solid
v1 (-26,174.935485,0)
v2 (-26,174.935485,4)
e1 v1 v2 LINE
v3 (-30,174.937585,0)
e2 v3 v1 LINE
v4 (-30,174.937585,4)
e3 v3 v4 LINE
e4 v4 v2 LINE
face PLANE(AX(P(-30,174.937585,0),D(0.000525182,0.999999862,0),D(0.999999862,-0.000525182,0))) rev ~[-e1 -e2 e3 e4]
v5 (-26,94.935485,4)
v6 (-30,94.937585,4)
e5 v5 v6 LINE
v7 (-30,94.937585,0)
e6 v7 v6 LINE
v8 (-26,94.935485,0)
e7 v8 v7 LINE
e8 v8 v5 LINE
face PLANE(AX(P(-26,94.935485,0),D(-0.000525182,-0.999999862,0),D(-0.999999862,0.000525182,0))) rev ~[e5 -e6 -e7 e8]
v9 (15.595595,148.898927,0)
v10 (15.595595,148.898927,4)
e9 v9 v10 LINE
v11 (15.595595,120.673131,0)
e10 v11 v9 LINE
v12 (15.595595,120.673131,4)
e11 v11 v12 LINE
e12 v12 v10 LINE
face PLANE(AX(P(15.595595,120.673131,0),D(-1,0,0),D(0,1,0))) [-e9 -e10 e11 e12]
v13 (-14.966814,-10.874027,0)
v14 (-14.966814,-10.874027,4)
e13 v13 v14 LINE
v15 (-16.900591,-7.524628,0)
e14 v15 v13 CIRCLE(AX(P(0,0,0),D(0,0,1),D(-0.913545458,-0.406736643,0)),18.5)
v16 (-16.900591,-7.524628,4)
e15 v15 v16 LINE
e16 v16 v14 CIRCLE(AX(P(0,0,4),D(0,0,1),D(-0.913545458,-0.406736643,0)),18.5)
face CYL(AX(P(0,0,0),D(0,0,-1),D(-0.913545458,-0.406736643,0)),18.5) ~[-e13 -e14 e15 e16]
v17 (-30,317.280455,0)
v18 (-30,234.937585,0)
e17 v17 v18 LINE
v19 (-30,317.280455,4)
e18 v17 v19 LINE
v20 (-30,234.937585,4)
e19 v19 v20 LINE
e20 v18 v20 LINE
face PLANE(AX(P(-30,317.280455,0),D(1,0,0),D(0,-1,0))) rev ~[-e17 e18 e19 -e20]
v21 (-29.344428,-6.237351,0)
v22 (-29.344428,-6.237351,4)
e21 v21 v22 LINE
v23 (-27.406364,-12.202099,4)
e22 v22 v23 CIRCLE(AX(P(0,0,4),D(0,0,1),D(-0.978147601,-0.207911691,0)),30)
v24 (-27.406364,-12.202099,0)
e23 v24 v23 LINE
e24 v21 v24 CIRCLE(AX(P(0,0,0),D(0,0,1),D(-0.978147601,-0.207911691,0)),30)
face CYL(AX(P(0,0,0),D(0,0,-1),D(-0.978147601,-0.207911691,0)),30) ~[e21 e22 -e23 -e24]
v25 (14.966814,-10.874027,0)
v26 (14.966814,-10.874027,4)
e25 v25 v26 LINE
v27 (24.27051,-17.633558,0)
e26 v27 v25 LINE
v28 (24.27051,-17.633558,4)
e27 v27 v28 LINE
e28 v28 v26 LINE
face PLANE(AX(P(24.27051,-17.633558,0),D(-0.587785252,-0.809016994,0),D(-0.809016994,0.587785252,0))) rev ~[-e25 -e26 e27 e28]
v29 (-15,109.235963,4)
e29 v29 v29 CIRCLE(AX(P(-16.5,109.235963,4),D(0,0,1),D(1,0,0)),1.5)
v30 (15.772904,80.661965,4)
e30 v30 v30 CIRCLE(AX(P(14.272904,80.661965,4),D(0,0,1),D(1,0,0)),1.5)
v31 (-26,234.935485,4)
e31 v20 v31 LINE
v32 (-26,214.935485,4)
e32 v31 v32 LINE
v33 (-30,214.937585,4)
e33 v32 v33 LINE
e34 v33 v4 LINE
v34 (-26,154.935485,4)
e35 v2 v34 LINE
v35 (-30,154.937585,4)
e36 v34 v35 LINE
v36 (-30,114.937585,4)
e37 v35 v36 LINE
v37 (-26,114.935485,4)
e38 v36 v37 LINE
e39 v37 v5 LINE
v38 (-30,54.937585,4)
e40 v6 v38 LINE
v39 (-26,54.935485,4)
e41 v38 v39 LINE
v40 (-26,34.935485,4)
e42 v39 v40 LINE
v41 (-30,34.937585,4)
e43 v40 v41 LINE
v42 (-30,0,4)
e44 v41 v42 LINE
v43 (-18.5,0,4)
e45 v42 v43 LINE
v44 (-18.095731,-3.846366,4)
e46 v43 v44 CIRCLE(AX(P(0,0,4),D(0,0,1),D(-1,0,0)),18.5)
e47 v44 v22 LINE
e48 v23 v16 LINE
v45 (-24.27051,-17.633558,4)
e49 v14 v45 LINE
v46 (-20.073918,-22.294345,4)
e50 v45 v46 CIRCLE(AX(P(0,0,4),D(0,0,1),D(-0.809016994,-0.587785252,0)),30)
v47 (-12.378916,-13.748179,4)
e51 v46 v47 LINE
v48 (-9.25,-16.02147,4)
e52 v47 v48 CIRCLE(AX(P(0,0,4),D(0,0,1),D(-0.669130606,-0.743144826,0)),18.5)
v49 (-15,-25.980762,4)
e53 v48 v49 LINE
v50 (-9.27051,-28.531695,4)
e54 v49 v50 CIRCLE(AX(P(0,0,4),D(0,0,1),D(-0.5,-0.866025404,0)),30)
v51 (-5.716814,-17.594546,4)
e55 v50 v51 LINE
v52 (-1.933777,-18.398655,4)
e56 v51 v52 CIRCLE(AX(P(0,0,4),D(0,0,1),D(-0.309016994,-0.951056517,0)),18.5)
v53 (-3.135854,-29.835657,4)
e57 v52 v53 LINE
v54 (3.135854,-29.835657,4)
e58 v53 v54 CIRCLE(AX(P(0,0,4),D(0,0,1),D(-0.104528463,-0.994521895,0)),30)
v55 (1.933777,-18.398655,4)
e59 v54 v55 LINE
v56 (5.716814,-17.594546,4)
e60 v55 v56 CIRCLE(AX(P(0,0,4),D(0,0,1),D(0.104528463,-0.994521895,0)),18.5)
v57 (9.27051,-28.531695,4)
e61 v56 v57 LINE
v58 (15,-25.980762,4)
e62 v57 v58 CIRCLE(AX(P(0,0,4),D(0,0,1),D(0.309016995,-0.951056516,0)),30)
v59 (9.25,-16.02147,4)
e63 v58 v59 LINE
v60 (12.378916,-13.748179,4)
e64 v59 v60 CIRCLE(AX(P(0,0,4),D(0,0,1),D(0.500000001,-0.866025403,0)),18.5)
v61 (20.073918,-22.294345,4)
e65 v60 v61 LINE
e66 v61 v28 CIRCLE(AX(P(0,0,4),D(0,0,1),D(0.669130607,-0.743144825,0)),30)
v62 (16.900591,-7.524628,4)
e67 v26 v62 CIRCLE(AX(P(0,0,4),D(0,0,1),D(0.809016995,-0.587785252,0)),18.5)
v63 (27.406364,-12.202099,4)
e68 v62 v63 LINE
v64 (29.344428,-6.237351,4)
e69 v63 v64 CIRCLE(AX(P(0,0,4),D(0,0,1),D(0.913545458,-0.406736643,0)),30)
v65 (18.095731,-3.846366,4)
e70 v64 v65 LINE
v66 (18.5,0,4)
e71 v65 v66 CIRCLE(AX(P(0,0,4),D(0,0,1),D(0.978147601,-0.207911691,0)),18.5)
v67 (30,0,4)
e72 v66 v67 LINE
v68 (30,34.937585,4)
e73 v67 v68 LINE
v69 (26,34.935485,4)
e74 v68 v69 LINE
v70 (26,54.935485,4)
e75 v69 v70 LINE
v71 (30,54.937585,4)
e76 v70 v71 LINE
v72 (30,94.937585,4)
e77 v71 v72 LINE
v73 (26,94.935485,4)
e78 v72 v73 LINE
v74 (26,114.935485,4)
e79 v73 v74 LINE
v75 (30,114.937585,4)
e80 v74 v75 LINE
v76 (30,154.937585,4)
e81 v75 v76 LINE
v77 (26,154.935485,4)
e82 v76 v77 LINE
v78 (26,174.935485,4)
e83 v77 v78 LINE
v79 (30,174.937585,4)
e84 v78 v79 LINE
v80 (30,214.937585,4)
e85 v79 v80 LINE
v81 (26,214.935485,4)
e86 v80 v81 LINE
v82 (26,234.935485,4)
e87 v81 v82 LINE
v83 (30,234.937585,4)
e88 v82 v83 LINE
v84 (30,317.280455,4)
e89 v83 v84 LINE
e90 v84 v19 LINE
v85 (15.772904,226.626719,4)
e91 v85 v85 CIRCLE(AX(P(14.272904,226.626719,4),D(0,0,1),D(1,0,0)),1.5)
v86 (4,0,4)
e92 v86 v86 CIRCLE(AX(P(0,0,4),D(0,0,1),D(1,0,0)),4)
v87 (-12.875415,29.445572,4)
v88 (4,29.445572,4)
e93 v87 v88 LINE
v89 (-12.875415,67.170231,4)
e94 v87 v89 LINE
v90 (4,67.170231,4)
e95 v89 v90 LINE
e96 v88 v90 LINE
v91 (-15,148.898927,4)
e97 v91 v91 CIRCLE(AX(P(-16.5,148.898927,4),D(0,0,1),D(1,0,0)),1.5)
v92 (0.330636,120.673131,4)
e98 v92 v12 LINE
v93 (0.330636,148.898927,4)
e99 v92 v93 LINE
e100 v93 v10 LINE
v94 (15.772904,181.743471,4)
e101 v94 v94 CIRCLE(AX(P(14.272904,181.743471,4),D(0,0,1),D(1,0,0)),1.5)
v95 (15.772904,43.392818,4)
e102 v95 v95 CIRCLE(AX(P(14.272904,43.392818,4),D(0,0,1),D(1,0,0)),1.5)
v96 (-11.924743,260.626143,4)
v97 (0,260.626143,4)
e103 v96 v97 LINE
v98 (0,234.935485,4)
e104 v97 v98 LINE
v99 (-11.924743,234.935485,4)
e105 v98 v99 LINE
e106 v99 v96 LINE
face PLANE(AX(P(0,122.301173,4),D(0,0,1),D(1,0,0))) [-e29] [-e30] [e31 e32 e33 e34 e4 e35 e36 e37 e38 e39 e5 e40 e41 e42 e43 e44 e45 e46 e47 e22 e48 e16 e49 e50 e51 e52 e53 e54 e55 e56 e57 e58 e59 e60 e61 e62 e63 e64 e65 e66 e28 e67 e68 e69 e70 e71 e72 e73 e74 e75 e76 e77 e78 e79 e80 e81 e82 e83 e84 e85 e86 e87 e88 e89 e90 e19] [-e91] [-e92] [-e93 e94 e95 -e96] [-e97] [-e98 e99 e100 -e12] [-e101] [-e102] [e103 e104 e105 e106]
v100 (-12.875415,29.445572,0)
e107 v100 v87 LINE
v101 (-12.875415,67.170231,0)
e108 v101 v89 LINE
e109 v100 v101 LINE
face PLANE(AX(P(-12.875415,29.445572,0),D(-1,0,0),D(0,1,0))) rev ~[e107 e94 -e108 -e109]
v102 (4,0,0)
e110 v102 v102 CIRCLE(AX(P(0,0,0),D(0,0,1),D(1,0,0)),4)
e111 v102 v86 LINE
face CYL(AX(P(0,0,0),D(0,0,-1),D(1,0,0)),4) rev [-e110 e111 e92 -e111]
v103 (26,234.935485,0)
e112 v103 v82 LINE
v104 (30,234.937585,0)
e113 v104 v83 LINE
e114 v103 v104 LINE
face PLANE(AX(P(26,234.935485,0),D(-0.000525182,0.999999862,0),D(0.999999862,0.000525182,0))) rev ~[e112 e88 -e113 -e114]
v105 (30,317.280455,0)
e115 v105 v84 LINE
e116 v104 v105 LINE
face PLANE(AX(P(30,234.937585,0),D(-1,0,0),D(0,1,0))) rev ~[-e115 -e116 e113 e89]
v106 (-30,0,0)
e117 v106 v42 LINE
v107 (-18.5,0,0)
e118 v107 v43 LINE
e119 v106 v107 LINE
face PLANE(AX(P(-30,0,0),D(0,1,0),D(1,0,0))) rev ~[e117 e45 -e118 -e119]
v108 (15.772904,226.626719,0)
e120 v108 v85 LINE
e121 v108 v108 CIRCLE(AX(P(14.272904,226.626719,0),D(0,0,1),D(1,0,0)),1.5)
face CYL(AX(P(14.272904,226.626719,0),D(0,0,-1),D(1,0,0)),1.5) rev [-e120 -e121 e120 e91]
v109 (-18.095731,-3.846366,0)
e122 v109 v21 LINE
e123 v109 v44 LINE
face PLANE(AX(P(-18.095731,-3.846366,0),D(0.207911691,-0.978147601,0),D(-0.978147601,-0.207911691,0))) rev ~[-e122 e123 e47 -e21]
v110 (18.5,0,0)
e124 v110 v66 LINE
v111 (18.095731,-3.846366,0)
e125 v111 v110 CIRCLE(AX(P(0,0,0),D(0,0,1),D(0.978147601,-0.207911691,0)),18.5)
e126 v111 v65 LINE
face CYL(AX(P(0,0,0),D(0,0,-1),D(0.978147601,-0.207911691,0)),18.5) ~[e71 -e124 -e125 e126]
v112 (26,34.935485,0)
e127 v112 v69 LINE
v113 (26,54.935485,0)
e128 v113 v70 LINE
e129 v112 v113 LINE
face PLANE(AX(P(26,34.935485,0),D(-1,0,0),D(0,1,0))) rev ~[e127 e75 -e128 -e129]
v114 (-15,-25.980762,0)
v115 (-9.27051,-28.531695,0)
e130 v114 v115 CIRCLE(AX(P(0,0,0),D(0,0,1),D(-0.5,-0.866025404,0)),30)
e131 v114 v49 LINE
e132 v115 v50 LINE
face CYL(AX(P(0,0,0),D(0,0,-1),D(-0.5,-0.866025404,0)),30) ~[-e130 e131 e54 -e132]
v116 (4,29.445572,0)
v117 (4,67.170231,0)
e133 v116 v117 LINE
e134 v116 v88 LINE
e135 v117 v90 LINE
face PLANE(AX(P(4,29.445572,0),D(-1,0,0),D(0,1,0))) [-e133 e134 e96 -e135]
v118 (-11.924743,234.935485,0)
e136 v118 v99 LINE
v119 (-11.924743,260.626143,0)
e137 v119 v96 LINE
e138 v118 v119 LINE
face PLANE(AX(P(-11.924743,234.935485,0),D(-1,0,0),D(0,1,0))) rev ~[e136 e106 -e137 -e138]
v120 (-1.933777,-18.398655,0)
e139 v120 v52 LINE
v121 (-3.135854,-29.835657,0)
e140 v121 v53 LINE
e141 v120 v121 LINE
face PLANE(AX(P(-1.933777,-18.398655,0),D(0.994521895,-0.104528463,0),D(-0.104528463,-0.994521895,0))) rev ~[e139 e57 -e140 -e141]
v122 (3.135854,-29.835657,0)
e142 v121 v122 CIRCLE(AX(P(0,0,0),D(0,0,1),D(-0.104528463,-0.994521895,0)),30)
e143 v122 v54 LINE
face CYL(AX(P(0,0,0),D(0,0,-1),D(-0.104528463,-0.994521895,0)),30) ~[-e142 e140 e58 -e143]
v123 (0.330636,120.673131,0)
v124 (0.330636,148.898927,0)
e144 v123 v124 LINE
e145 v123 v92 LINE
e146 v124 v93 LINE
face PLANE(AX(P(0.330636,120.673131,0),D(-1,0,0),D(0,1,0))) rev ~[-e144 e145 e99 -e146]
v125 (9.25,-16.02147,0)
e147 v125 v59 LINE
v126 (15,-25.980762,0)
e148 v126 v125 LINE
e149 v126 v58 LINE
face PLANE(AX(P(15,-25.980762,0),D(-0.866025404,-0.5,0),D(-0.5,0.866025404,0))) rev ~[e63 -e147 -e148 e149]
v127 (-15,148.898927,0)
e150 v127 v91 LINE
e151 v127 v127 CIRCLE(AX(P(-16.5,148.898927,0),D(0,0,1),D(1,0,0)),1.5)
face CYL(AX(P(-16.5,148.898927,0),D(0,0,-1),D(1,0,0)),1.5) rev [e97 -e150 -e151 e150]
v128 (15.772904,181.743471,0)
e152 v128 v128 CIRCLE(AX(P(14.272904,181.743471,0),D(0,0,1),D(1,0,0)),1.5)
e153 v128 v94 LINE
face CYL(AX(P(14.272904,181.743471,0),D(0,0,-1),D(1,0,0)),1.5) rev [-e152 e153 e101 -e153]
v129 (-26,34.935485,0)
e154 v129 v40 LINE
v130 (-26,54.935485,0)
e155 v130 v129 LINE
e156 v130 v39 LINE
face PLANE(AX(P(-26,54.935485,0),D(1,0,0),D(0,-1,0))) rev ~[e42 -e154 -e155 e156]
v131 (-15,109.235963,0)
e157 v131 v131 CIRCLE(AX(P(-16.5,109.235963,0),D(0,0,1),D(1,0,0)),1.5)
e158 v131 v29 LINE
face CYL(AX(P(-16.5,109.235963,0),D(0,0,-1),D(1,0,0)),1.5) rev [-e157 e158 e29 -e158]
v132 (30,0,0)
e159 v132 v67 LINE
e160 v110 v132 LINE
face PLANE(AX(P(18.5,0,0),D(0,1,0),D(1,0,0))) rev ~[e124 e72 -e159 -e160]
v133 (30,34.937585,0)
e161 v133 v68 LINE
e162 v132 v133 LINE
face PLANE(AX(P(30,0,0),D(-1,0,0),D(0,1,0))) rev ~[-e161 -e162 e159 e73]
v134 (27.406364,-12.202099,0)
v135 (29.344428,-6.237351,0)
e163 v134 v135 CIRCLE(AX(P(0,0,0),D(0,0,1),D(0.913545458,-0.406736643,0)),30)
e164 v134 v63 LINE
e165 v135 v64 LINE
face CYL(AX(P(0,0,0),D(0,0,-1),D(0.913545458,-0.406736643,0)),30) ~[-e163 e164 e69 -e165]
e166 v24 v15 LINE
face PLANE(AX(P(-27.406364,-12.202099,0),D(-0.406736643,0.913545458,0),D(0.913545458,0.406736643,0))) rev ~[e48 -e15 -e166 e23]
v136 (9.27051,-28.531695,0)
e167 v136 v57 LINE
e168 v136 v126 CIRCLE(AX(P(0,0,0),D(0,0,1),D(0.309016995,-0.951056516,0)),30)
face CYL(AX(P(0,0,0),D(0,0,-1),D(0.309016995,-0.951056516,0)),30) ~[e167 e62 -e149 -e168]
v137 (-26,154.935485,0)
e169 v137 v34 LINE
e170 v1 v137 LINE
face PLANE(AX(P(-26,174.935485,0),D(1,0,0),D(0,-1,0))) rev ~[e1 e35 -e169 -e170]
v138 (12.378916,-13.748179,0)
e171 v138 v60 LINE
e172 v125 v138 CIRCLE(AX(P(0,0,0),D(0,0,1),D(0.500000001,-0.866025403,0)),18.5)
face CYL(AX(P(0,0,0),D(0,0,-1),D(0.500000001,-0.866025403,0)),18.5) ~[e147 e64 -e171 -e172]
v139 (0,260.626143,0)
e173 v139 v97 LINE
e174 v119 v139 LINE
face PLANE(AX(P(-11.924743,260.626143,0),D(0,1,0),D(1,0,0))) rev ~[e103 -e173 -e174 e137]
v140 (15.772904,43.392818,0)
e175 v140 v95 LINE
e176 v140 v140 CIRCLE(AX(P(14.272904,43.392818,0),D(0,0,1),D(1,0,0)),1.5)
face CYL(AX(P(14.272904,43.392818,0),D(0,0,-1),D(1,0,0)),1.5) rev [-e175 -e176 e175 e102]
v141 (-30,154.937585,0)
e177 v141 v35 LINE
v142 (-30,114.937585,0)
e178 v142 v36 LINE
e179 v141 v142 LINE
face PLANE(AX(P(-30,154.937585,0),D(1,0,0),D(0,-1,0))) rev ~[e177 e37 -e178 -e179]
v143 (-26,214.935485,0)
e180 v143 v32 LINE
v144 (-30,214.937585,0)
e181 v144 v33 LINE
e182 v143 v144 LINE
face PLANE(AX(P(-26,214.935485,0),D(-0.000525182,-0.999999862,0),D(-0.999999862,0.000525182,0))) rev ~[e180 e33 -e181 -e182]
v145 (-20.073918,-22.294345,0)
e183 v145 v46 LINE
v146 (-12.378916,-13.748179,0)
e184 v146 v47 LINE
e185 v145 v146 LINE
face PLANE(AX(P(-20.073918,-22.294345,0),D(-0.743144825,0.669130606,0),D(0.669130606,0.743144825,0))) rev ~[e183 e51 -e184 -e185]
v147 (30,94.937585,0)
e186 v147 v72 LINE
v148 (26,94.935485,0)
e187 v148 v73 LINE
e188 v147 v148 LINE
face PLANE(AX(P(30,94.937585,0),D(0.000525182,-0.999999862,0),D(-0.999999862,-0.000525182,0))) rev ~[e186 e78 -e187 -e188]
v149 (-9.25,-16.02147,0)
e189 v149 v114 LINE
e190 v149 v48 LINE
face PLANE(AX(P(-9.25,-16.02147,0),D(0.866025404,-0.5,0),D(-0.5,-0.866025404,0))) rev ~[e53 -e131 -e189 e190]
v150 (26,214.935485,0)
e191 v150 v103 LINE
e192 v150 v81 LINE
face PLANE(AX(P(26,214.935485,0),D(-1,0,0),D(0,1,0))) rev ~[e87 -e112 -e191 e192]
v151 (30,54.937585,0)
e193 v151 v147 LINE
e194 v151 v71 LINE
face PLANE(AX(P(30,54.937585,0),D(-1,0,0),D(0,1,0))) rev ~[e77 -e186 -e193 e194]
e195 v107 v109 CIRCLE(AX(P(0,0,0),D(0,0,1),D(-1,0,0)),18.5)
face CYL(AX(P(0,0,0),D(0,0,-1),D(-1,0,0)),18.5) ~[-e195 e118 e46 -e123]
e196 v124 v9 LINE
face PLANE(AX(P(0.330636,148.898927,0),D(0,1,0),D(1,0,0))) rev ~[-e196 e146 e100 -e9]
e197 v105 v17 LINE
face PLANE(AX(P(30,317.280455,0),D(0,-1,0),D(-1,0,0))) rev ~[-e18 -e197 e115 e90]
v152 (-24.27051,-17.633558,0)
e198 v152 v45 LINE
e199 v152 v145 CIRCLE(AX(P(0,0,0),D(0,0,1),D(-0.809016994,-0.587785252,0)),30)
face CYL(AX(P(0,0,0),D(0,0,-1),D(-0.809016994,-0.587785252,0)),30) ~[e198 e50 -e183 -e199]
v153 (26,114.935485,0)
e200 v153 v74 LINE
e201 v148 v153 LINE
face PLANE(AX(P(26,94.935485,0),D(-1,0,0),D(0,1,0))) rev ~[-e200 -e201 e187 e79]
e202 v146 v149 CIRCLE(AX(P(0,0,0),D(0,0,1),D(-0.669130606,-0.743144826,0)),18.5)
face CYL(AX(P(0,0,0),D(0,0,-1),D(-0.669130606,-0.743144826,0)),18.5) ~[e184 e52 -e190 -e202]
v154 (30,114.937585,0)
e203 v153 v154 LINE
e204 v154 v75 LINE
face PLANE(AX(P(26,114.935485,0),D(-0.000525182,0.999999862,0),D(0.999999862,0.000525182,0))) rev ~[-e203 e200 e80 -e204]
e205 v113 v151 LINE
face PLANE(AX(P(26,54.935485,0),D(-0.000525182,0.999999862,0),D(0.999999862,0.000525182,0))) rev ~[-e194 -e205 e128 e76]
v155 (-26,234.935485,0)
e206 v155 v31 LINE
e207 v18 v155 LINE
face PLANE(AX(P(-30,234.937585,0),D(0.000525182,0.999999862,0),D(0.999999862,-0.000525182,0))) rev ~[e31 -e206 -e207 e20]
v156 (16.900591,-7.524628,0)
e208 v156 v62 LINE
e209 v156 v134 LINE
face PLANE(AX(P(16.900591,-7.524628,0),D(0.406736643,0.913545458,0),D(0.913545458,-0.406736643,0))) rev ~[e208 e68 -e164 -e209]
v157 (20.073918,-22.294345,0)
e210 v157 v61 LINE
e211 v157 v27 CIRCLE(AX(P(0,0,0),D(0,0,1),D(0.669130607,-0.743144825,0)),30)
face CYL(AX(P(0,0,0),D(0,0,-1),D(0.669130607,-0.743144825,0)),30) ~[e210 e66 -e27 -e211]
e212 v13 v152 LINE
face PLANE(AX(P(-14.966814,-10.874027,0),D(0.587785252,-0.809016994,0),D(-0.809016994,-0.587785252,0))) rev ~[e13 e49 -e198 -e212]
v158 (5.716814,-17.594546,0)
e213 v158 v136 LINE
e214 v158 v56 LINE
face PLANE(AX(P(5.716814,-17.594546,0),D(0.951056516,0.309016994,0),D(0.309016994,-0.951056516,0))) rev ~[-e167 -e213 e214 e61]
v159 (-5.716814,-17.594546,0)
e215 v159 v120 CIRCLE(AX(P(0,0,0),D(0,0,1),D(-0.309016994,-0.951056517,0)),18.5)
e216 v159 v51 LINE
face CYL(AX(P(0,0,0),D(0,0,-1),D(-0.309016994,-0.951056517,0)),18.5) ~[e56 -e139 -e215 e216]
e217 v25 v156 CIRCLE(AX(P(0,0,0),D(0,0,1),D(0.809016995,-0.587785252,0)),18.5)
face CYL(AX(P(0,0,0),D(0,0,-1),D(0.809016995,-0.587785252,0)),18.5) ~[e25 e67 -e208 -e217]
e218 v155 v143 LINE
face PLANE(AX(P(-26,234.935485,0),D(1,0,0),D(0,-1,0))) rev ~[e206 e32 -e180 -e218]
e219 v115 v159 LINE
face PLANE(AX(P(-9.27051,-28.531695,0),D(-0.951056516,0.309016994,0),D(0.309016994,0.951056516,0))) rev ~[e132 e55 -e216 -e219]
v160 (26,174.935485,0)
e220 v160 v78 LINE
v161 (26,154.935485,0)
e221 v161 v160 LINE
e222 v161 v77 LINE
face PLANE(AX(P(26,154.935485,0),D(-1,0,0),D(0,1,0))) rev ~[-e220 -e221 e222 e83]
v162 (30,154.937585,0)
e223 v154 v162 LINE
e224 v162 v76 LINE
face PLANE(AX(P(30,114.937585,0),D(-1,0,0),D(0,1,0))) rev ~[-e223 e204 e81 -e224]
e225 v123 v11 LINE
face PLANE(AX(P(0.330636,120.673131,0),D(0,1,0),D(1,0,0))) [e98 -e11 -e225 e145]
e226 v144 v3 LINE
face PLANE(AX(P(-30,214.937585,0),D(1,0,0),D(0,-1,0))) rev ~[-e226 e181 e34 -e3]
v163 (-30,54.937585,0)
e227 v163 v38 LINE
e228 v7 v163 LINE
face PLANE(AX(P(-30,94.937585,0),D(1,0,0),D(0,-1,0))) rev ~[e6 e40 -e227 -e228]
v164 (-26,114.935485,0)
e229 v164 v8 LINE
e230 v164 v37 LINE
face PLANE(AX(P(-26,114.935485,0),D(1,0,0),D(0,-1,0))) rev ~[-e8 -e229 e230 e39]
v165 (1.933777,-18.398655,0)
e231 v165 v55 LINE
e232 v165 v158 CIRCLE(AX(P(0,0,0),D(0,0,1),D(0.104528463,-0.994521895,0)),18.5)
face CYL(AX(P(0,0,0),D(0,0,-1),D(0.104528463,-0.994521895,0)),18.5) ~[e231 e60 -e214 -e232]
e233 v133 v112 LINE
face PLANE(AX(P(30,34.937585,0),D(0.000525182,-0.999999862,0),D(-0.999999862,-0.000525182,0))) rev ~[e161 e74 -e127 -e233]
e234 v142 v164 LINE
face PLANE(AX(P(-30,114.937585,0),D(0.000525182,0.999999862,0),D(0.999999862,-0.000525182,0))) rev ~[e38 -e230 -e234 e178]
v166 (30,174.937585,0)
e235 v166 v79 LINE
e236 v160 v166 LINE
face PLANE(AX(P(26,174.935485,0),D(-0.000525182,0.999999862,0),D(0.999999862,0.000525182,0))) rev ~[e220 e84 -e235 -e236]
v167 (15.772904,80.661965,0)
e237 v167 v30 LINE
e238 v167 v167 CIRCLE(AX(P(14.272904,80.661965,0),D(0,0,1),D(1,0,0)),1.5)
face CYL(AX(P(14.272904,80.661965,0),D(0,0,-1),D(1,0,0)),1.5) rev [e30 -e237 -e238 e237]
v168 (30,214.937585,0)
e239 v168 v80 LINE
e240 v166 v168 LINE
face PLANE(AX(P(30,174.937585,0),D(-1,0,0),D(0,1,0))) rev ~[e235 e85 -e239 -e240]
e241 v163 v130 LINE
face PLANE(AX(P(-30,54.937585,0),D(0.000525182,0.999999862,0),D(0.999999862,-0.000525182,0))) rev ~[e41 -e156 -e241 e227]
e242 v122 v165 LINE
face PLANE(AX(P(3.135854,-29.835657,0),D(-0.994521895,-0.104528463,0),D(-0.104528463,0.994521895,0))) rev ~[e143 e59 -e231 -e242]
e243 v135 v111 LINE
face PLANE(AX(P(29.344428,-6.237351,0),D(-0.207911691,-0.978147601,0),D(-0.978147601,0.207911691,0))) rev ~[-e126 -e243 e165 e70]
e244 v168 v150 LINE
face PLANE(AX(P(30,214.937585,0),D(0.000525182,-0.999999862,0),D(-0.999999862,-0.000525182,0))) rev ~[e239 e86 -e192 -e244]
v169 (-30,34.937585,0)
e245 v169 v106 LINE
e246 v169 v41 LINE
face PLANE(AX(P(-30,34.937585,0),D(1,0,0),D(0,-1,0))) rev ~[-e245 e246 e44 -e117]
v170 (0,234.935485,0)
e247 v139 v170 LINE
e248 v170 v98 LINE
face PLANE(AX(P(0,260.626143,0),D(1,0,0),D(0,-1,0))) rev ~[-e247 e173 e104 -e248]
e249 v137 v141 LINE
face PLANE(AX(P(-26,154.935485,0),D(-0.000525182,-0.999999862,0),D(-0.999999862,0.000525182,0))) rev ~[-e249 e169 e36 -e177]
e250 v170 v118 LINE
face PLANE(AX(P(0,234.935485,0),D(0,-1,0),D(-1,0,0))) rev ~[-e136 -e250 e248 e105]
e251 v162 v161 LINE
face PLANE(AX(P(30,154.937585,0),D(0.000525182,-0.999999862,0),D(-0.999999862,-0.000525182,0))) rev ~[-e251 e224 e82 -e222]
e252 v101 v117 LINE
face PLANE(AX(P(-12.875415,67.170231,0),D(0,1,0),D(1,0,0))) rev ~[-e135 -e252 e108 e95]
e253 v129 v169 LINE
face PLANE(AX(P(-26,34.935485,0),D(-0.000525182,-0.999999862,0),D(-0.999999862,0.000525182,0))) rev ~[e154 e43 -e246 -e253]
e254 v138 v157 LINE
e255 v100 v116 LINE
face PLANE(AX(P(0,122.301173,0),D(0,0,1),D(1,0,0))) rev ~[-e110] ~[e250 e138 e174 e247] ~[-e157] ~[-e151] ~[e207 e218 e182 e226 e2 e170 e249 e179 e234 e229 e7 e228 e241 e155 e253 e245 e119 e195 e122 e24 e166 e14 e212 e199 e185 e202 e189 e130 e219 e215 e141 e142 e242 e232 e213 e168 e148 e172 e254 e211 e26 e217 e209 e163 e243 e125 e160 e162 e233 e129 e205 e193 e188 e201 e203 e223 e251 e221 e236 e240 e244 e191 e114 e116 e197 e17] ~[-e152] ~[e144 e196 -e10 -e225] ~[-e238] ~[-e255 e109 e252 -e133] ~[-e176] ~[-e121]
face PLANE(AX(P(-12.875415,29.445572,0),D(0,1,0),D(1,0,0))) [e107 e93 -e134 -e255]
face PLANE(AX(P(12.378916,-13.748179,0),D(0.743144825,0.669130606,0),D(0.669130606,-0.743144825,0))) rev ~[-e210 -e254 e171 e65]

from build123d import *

# Parameters (mm, degrees)
SKETCH1_R           = 1.5
SKETCH1_R_2         = 4.000000004
SKETCH1_W           = 15.264959334
SKETCH1_H           = 28.225795916
SKETCH1_W_2         = 16.875415015
SKETCH1_H_2         = 37.724658957
BOSS_EXTRUDE1_DEPTH = 4


with BuildPart() as part:
    # Sketch1 → Boss-Extrude1 (new body)
    with BuildSketch(Plane.XY):
        with BuildLine():
            Line((-30.000000002, 34.937585276), (-30.000000002, -5e-09))
            Line((-30.000000002, -5e-09), (-18.500000007, -5e-09))
            ThreePointArc((-18.500000007, -5e-09), (-18.398655071, -1.933776576), (-18.09573062, -3.846366286))
            Line((-18.09573062, -3.846366286), (-29.344428024, -6.23735073))
            ThreePointArc((-29.344428024, -6.23735073), (-28.53169549, -9.270509837), (-27.406363731, -12.202099298))
            Line((-27.406363731, -12.202099298), (-16.900590972, -7.524627904))
            ThreePointArc((-16.900590972, -7.524627904), (-16.021469975, -9.250000008), (-14.966814401, -10.874027176))
            Line((-14.966814401, -10.874027176), (-24.270509832, -17.633557574))
            ThreePointArc((-24.270509832, -17.633557574), (-22.294344765, -20.073918196), (-20.073918191, -22.294344769))
            Line((-20.073918191, -22.294344769), (-12.378916221, -13.74817928))
            ThreePointArc((-12.378916221, -13.74817928), (-10.87402717, -14.966814404), (-9.250000002, -16.021469978))
            Line((-9.250000002, -16.021469978), (-14.999999999, -25.980762117))
            ThreePointArc((-14.999999999, -25.980762117), (-12.202099292, -27.406363733), (-9.27050983, -28.531695491))
            Line((-9.27050983, -28.531695491), (-5.716814397, -17.594545559))
            ThreePointArc((-5.716814397, -17.594545559), (-3.846366281, -18.09573062), (-1.933776571, -18.39865507))
            Line((-1.933776571, -18.39865507), (-3.135853898, -29.835656862))
            ThreePointArc((-3.135853898, -29.835656862), (0, -30.000000001), (3.135853897, -29.835656861))
            Line((3.135853897, -29.835656861), (1.93377657, -18.398655069))
            ThreePointArc((1.93377657, -18.398655069), (3.84636628, -18.095730618), (5.716814395, -17.594545555))
            Line((5.716814395, -17.594545555), (9.270509829, -28.531695488))
            ThreePointArc((9.270509829, -28.531695488), (12.202099289, -27.406363728), (14.999999996, -25.980762112))
            Line((14.999999996, -25.980762112), (9.249999999, -16.021469973))
            ThreePointArc((9.249999999, -16.021469973), (10.874027165, -14.966814398), (12.378916215, -13.748179274))
            Line((12.378916215, -13.748179274), (20.073918185, -22.294344763))
            ThreePointArc((20.073918185, -22.294344763), (22.294344757, -20.07391819), (24.270509823, -17.633557568))
            Line((24.270509823, -17.633557568), (14.966814392, -10.87402717))
            ThreePointArc((14.966814392, -10.87402717), (16.021469966, -9.250000002), (16.900590962, -7.5246279))
            Line((16.900590962, -7.5246279), (27.40636372, -12.202099293))
            ThreePointArc((27.40636372, -12.202099293), (28.531695479, -9.270509833), (29.344428012, -6.237350727))
            Line((29.344428012, -6.237350727), (18.095730608, -3.846366284))
            ThreePointArc((18.095730608, -3.846366284), (18.398655059, -1.933776575), (18.499999994, -5e-09))
            Line((18.499999994, -5e-09), (29.999999989, -5e-09))
            Line((29.999999989, -5e-09), (29.999999989, 34.937585276))
            Line((29.999999989, 34.937585276), (25.999999989, 34.935484549))
            Line((25.999999989, 34.935484549), (25.999999989, 54.935484549))
            Line((25.999999989, 54.935484549), (29.999999989, 54.937585276))
            Line((29.999999989, 54.937585276), (29.999999989, 94.937585276))
            Line((29.999999989, 94.937585276), (25.999999989, 94.935484549))
            Line((25.999999989, 94.935484549), (25.999999989, 114.935484549))
            Line((25.999999989, 114.935484549), (29.999999989, 114.937585276))
            Line((29.999999989, 114.937585276), (29.999999989, 154.937585276))
            Line((29.999999989, 154.937585276), (25.999999989, 154.935484549))
            Line((25.999999989, 154.935484549), (25.999999989, 174.935484549))
            Line((25.999999989, 174.935484549), (29.999999989, 174.937585276))
            Line((29.999999989, 174.937585276), (29.999999989, 214.937585276))
            Line((29.999999989, 214.937585276), (25.999999989, 214.935484549))
            Line((25.999999989, 214.935484549), (25.999999989, 234.935484549))
            Line((25.999999989, 234.935484549), (29.999999989, 234.937585276))
            Line((29.999999989, 234.937585276), (29.999999989, 317.280454814))
            Line((29.999999989, 317.280454814), (-30.000000002, 317.280454814))
            Line((-30.000000002, 317.280454814), (-30.000000002, 234.937585276))
            Line((-30.000000002, 234.937585276), (-26.000000002, 234.935484549))
            Line((-26.000000002, 234.935484549), (-26.000000002, 214.935484549))
            Line((-26.000000002, 214.935484549), (-30.000000002, 214.937585276))
            Line((-30.000000002, 214.937585276), (-30.000000002, 174.937585276))
            Line((-30.000000002, 174.937585276), (-26.000000002, 174.935484549))
            Line((-26.000000002, 174.935484549), (-26.000000002, 154.935484549))
            Line((-26.000000002, 154.935484549), (-30.000000002, 154.937585276))
            Line((-30.000000002, 154.937585276), (-30.000000002, 114.937585276))
            Line((-30.000000002, 114.937585276), (-26.000000002, 114.935484549))
            Line((-26.000000002, 114.935484549), (-26.000000002, 94.935484549))
            Line((-26.000000002, 94.935484549), (-30.000000002, 94.937585276))
            Line((-30.000000002, 94.937585276), (-30.000000002, 54.937585276))
            Line((-30.000000002, 54.937585276), (-26.000000002, 54.935484549))
            Line((-26.000000002, 54.935484549), (-26.000000002, 34.935484549))
            Line((-26.000000002, 34.935484549), (-30.000000002, 34.937585276))
        make_face()
        with Locations((14.272904266, 226.626719069)):
            Circle(SKETCH1_R, mode=Mode.SUBTRACT)
        with Locations((-6e-09, -5e-09)):
            Circle(SKETCH1_R_2, mode=Mode.SUBTRACT)
        with Locations((14.272904266, 181.743471482)):
            Circle(SKETCH1_R, mode=Mode.SUBTRACT)
        with Locations((-16.500000002, 148.89892656)):
            Circle(SKETCH1_R, mode=Mode.SUBTRACT)
        with Locations((-16.500000002, 109.235963146)):
            Circle(SKETCH1_R, mode=Mode.SUBTRACT)
        with Locations((14.272904266, 80.661965148)):
            Circle(SKETCH1_R, mode=Mode.SUBTRACT)
        with Locations((14.272904266, 43.392817658)):
            Circle(SKETCH1_R, mode=Mode.SUBTRACT)
        Polygon((-11.924742875, 260.626143035), (0, 260.626143035), (-2e-09, 234.935484549), (-11.924742875, 234.935484549), align=None, mode=Mode.SUBTRACT)
        with Locations((7.963115832, 134.786028602)):
            Rectangle(SKETCH1_W, SKETCH1_H, mode=Mode.SUBTRACT)
        with Locations((-4.43770751, 48.307901023)):
            Rectangle(SKETCH1_W_2, SKETCH1_H_2, mode=Mode.SUBTRACT)
    extrude(amount=BOSS_EXTRUDE1_DEPTH)


solid = part.part
